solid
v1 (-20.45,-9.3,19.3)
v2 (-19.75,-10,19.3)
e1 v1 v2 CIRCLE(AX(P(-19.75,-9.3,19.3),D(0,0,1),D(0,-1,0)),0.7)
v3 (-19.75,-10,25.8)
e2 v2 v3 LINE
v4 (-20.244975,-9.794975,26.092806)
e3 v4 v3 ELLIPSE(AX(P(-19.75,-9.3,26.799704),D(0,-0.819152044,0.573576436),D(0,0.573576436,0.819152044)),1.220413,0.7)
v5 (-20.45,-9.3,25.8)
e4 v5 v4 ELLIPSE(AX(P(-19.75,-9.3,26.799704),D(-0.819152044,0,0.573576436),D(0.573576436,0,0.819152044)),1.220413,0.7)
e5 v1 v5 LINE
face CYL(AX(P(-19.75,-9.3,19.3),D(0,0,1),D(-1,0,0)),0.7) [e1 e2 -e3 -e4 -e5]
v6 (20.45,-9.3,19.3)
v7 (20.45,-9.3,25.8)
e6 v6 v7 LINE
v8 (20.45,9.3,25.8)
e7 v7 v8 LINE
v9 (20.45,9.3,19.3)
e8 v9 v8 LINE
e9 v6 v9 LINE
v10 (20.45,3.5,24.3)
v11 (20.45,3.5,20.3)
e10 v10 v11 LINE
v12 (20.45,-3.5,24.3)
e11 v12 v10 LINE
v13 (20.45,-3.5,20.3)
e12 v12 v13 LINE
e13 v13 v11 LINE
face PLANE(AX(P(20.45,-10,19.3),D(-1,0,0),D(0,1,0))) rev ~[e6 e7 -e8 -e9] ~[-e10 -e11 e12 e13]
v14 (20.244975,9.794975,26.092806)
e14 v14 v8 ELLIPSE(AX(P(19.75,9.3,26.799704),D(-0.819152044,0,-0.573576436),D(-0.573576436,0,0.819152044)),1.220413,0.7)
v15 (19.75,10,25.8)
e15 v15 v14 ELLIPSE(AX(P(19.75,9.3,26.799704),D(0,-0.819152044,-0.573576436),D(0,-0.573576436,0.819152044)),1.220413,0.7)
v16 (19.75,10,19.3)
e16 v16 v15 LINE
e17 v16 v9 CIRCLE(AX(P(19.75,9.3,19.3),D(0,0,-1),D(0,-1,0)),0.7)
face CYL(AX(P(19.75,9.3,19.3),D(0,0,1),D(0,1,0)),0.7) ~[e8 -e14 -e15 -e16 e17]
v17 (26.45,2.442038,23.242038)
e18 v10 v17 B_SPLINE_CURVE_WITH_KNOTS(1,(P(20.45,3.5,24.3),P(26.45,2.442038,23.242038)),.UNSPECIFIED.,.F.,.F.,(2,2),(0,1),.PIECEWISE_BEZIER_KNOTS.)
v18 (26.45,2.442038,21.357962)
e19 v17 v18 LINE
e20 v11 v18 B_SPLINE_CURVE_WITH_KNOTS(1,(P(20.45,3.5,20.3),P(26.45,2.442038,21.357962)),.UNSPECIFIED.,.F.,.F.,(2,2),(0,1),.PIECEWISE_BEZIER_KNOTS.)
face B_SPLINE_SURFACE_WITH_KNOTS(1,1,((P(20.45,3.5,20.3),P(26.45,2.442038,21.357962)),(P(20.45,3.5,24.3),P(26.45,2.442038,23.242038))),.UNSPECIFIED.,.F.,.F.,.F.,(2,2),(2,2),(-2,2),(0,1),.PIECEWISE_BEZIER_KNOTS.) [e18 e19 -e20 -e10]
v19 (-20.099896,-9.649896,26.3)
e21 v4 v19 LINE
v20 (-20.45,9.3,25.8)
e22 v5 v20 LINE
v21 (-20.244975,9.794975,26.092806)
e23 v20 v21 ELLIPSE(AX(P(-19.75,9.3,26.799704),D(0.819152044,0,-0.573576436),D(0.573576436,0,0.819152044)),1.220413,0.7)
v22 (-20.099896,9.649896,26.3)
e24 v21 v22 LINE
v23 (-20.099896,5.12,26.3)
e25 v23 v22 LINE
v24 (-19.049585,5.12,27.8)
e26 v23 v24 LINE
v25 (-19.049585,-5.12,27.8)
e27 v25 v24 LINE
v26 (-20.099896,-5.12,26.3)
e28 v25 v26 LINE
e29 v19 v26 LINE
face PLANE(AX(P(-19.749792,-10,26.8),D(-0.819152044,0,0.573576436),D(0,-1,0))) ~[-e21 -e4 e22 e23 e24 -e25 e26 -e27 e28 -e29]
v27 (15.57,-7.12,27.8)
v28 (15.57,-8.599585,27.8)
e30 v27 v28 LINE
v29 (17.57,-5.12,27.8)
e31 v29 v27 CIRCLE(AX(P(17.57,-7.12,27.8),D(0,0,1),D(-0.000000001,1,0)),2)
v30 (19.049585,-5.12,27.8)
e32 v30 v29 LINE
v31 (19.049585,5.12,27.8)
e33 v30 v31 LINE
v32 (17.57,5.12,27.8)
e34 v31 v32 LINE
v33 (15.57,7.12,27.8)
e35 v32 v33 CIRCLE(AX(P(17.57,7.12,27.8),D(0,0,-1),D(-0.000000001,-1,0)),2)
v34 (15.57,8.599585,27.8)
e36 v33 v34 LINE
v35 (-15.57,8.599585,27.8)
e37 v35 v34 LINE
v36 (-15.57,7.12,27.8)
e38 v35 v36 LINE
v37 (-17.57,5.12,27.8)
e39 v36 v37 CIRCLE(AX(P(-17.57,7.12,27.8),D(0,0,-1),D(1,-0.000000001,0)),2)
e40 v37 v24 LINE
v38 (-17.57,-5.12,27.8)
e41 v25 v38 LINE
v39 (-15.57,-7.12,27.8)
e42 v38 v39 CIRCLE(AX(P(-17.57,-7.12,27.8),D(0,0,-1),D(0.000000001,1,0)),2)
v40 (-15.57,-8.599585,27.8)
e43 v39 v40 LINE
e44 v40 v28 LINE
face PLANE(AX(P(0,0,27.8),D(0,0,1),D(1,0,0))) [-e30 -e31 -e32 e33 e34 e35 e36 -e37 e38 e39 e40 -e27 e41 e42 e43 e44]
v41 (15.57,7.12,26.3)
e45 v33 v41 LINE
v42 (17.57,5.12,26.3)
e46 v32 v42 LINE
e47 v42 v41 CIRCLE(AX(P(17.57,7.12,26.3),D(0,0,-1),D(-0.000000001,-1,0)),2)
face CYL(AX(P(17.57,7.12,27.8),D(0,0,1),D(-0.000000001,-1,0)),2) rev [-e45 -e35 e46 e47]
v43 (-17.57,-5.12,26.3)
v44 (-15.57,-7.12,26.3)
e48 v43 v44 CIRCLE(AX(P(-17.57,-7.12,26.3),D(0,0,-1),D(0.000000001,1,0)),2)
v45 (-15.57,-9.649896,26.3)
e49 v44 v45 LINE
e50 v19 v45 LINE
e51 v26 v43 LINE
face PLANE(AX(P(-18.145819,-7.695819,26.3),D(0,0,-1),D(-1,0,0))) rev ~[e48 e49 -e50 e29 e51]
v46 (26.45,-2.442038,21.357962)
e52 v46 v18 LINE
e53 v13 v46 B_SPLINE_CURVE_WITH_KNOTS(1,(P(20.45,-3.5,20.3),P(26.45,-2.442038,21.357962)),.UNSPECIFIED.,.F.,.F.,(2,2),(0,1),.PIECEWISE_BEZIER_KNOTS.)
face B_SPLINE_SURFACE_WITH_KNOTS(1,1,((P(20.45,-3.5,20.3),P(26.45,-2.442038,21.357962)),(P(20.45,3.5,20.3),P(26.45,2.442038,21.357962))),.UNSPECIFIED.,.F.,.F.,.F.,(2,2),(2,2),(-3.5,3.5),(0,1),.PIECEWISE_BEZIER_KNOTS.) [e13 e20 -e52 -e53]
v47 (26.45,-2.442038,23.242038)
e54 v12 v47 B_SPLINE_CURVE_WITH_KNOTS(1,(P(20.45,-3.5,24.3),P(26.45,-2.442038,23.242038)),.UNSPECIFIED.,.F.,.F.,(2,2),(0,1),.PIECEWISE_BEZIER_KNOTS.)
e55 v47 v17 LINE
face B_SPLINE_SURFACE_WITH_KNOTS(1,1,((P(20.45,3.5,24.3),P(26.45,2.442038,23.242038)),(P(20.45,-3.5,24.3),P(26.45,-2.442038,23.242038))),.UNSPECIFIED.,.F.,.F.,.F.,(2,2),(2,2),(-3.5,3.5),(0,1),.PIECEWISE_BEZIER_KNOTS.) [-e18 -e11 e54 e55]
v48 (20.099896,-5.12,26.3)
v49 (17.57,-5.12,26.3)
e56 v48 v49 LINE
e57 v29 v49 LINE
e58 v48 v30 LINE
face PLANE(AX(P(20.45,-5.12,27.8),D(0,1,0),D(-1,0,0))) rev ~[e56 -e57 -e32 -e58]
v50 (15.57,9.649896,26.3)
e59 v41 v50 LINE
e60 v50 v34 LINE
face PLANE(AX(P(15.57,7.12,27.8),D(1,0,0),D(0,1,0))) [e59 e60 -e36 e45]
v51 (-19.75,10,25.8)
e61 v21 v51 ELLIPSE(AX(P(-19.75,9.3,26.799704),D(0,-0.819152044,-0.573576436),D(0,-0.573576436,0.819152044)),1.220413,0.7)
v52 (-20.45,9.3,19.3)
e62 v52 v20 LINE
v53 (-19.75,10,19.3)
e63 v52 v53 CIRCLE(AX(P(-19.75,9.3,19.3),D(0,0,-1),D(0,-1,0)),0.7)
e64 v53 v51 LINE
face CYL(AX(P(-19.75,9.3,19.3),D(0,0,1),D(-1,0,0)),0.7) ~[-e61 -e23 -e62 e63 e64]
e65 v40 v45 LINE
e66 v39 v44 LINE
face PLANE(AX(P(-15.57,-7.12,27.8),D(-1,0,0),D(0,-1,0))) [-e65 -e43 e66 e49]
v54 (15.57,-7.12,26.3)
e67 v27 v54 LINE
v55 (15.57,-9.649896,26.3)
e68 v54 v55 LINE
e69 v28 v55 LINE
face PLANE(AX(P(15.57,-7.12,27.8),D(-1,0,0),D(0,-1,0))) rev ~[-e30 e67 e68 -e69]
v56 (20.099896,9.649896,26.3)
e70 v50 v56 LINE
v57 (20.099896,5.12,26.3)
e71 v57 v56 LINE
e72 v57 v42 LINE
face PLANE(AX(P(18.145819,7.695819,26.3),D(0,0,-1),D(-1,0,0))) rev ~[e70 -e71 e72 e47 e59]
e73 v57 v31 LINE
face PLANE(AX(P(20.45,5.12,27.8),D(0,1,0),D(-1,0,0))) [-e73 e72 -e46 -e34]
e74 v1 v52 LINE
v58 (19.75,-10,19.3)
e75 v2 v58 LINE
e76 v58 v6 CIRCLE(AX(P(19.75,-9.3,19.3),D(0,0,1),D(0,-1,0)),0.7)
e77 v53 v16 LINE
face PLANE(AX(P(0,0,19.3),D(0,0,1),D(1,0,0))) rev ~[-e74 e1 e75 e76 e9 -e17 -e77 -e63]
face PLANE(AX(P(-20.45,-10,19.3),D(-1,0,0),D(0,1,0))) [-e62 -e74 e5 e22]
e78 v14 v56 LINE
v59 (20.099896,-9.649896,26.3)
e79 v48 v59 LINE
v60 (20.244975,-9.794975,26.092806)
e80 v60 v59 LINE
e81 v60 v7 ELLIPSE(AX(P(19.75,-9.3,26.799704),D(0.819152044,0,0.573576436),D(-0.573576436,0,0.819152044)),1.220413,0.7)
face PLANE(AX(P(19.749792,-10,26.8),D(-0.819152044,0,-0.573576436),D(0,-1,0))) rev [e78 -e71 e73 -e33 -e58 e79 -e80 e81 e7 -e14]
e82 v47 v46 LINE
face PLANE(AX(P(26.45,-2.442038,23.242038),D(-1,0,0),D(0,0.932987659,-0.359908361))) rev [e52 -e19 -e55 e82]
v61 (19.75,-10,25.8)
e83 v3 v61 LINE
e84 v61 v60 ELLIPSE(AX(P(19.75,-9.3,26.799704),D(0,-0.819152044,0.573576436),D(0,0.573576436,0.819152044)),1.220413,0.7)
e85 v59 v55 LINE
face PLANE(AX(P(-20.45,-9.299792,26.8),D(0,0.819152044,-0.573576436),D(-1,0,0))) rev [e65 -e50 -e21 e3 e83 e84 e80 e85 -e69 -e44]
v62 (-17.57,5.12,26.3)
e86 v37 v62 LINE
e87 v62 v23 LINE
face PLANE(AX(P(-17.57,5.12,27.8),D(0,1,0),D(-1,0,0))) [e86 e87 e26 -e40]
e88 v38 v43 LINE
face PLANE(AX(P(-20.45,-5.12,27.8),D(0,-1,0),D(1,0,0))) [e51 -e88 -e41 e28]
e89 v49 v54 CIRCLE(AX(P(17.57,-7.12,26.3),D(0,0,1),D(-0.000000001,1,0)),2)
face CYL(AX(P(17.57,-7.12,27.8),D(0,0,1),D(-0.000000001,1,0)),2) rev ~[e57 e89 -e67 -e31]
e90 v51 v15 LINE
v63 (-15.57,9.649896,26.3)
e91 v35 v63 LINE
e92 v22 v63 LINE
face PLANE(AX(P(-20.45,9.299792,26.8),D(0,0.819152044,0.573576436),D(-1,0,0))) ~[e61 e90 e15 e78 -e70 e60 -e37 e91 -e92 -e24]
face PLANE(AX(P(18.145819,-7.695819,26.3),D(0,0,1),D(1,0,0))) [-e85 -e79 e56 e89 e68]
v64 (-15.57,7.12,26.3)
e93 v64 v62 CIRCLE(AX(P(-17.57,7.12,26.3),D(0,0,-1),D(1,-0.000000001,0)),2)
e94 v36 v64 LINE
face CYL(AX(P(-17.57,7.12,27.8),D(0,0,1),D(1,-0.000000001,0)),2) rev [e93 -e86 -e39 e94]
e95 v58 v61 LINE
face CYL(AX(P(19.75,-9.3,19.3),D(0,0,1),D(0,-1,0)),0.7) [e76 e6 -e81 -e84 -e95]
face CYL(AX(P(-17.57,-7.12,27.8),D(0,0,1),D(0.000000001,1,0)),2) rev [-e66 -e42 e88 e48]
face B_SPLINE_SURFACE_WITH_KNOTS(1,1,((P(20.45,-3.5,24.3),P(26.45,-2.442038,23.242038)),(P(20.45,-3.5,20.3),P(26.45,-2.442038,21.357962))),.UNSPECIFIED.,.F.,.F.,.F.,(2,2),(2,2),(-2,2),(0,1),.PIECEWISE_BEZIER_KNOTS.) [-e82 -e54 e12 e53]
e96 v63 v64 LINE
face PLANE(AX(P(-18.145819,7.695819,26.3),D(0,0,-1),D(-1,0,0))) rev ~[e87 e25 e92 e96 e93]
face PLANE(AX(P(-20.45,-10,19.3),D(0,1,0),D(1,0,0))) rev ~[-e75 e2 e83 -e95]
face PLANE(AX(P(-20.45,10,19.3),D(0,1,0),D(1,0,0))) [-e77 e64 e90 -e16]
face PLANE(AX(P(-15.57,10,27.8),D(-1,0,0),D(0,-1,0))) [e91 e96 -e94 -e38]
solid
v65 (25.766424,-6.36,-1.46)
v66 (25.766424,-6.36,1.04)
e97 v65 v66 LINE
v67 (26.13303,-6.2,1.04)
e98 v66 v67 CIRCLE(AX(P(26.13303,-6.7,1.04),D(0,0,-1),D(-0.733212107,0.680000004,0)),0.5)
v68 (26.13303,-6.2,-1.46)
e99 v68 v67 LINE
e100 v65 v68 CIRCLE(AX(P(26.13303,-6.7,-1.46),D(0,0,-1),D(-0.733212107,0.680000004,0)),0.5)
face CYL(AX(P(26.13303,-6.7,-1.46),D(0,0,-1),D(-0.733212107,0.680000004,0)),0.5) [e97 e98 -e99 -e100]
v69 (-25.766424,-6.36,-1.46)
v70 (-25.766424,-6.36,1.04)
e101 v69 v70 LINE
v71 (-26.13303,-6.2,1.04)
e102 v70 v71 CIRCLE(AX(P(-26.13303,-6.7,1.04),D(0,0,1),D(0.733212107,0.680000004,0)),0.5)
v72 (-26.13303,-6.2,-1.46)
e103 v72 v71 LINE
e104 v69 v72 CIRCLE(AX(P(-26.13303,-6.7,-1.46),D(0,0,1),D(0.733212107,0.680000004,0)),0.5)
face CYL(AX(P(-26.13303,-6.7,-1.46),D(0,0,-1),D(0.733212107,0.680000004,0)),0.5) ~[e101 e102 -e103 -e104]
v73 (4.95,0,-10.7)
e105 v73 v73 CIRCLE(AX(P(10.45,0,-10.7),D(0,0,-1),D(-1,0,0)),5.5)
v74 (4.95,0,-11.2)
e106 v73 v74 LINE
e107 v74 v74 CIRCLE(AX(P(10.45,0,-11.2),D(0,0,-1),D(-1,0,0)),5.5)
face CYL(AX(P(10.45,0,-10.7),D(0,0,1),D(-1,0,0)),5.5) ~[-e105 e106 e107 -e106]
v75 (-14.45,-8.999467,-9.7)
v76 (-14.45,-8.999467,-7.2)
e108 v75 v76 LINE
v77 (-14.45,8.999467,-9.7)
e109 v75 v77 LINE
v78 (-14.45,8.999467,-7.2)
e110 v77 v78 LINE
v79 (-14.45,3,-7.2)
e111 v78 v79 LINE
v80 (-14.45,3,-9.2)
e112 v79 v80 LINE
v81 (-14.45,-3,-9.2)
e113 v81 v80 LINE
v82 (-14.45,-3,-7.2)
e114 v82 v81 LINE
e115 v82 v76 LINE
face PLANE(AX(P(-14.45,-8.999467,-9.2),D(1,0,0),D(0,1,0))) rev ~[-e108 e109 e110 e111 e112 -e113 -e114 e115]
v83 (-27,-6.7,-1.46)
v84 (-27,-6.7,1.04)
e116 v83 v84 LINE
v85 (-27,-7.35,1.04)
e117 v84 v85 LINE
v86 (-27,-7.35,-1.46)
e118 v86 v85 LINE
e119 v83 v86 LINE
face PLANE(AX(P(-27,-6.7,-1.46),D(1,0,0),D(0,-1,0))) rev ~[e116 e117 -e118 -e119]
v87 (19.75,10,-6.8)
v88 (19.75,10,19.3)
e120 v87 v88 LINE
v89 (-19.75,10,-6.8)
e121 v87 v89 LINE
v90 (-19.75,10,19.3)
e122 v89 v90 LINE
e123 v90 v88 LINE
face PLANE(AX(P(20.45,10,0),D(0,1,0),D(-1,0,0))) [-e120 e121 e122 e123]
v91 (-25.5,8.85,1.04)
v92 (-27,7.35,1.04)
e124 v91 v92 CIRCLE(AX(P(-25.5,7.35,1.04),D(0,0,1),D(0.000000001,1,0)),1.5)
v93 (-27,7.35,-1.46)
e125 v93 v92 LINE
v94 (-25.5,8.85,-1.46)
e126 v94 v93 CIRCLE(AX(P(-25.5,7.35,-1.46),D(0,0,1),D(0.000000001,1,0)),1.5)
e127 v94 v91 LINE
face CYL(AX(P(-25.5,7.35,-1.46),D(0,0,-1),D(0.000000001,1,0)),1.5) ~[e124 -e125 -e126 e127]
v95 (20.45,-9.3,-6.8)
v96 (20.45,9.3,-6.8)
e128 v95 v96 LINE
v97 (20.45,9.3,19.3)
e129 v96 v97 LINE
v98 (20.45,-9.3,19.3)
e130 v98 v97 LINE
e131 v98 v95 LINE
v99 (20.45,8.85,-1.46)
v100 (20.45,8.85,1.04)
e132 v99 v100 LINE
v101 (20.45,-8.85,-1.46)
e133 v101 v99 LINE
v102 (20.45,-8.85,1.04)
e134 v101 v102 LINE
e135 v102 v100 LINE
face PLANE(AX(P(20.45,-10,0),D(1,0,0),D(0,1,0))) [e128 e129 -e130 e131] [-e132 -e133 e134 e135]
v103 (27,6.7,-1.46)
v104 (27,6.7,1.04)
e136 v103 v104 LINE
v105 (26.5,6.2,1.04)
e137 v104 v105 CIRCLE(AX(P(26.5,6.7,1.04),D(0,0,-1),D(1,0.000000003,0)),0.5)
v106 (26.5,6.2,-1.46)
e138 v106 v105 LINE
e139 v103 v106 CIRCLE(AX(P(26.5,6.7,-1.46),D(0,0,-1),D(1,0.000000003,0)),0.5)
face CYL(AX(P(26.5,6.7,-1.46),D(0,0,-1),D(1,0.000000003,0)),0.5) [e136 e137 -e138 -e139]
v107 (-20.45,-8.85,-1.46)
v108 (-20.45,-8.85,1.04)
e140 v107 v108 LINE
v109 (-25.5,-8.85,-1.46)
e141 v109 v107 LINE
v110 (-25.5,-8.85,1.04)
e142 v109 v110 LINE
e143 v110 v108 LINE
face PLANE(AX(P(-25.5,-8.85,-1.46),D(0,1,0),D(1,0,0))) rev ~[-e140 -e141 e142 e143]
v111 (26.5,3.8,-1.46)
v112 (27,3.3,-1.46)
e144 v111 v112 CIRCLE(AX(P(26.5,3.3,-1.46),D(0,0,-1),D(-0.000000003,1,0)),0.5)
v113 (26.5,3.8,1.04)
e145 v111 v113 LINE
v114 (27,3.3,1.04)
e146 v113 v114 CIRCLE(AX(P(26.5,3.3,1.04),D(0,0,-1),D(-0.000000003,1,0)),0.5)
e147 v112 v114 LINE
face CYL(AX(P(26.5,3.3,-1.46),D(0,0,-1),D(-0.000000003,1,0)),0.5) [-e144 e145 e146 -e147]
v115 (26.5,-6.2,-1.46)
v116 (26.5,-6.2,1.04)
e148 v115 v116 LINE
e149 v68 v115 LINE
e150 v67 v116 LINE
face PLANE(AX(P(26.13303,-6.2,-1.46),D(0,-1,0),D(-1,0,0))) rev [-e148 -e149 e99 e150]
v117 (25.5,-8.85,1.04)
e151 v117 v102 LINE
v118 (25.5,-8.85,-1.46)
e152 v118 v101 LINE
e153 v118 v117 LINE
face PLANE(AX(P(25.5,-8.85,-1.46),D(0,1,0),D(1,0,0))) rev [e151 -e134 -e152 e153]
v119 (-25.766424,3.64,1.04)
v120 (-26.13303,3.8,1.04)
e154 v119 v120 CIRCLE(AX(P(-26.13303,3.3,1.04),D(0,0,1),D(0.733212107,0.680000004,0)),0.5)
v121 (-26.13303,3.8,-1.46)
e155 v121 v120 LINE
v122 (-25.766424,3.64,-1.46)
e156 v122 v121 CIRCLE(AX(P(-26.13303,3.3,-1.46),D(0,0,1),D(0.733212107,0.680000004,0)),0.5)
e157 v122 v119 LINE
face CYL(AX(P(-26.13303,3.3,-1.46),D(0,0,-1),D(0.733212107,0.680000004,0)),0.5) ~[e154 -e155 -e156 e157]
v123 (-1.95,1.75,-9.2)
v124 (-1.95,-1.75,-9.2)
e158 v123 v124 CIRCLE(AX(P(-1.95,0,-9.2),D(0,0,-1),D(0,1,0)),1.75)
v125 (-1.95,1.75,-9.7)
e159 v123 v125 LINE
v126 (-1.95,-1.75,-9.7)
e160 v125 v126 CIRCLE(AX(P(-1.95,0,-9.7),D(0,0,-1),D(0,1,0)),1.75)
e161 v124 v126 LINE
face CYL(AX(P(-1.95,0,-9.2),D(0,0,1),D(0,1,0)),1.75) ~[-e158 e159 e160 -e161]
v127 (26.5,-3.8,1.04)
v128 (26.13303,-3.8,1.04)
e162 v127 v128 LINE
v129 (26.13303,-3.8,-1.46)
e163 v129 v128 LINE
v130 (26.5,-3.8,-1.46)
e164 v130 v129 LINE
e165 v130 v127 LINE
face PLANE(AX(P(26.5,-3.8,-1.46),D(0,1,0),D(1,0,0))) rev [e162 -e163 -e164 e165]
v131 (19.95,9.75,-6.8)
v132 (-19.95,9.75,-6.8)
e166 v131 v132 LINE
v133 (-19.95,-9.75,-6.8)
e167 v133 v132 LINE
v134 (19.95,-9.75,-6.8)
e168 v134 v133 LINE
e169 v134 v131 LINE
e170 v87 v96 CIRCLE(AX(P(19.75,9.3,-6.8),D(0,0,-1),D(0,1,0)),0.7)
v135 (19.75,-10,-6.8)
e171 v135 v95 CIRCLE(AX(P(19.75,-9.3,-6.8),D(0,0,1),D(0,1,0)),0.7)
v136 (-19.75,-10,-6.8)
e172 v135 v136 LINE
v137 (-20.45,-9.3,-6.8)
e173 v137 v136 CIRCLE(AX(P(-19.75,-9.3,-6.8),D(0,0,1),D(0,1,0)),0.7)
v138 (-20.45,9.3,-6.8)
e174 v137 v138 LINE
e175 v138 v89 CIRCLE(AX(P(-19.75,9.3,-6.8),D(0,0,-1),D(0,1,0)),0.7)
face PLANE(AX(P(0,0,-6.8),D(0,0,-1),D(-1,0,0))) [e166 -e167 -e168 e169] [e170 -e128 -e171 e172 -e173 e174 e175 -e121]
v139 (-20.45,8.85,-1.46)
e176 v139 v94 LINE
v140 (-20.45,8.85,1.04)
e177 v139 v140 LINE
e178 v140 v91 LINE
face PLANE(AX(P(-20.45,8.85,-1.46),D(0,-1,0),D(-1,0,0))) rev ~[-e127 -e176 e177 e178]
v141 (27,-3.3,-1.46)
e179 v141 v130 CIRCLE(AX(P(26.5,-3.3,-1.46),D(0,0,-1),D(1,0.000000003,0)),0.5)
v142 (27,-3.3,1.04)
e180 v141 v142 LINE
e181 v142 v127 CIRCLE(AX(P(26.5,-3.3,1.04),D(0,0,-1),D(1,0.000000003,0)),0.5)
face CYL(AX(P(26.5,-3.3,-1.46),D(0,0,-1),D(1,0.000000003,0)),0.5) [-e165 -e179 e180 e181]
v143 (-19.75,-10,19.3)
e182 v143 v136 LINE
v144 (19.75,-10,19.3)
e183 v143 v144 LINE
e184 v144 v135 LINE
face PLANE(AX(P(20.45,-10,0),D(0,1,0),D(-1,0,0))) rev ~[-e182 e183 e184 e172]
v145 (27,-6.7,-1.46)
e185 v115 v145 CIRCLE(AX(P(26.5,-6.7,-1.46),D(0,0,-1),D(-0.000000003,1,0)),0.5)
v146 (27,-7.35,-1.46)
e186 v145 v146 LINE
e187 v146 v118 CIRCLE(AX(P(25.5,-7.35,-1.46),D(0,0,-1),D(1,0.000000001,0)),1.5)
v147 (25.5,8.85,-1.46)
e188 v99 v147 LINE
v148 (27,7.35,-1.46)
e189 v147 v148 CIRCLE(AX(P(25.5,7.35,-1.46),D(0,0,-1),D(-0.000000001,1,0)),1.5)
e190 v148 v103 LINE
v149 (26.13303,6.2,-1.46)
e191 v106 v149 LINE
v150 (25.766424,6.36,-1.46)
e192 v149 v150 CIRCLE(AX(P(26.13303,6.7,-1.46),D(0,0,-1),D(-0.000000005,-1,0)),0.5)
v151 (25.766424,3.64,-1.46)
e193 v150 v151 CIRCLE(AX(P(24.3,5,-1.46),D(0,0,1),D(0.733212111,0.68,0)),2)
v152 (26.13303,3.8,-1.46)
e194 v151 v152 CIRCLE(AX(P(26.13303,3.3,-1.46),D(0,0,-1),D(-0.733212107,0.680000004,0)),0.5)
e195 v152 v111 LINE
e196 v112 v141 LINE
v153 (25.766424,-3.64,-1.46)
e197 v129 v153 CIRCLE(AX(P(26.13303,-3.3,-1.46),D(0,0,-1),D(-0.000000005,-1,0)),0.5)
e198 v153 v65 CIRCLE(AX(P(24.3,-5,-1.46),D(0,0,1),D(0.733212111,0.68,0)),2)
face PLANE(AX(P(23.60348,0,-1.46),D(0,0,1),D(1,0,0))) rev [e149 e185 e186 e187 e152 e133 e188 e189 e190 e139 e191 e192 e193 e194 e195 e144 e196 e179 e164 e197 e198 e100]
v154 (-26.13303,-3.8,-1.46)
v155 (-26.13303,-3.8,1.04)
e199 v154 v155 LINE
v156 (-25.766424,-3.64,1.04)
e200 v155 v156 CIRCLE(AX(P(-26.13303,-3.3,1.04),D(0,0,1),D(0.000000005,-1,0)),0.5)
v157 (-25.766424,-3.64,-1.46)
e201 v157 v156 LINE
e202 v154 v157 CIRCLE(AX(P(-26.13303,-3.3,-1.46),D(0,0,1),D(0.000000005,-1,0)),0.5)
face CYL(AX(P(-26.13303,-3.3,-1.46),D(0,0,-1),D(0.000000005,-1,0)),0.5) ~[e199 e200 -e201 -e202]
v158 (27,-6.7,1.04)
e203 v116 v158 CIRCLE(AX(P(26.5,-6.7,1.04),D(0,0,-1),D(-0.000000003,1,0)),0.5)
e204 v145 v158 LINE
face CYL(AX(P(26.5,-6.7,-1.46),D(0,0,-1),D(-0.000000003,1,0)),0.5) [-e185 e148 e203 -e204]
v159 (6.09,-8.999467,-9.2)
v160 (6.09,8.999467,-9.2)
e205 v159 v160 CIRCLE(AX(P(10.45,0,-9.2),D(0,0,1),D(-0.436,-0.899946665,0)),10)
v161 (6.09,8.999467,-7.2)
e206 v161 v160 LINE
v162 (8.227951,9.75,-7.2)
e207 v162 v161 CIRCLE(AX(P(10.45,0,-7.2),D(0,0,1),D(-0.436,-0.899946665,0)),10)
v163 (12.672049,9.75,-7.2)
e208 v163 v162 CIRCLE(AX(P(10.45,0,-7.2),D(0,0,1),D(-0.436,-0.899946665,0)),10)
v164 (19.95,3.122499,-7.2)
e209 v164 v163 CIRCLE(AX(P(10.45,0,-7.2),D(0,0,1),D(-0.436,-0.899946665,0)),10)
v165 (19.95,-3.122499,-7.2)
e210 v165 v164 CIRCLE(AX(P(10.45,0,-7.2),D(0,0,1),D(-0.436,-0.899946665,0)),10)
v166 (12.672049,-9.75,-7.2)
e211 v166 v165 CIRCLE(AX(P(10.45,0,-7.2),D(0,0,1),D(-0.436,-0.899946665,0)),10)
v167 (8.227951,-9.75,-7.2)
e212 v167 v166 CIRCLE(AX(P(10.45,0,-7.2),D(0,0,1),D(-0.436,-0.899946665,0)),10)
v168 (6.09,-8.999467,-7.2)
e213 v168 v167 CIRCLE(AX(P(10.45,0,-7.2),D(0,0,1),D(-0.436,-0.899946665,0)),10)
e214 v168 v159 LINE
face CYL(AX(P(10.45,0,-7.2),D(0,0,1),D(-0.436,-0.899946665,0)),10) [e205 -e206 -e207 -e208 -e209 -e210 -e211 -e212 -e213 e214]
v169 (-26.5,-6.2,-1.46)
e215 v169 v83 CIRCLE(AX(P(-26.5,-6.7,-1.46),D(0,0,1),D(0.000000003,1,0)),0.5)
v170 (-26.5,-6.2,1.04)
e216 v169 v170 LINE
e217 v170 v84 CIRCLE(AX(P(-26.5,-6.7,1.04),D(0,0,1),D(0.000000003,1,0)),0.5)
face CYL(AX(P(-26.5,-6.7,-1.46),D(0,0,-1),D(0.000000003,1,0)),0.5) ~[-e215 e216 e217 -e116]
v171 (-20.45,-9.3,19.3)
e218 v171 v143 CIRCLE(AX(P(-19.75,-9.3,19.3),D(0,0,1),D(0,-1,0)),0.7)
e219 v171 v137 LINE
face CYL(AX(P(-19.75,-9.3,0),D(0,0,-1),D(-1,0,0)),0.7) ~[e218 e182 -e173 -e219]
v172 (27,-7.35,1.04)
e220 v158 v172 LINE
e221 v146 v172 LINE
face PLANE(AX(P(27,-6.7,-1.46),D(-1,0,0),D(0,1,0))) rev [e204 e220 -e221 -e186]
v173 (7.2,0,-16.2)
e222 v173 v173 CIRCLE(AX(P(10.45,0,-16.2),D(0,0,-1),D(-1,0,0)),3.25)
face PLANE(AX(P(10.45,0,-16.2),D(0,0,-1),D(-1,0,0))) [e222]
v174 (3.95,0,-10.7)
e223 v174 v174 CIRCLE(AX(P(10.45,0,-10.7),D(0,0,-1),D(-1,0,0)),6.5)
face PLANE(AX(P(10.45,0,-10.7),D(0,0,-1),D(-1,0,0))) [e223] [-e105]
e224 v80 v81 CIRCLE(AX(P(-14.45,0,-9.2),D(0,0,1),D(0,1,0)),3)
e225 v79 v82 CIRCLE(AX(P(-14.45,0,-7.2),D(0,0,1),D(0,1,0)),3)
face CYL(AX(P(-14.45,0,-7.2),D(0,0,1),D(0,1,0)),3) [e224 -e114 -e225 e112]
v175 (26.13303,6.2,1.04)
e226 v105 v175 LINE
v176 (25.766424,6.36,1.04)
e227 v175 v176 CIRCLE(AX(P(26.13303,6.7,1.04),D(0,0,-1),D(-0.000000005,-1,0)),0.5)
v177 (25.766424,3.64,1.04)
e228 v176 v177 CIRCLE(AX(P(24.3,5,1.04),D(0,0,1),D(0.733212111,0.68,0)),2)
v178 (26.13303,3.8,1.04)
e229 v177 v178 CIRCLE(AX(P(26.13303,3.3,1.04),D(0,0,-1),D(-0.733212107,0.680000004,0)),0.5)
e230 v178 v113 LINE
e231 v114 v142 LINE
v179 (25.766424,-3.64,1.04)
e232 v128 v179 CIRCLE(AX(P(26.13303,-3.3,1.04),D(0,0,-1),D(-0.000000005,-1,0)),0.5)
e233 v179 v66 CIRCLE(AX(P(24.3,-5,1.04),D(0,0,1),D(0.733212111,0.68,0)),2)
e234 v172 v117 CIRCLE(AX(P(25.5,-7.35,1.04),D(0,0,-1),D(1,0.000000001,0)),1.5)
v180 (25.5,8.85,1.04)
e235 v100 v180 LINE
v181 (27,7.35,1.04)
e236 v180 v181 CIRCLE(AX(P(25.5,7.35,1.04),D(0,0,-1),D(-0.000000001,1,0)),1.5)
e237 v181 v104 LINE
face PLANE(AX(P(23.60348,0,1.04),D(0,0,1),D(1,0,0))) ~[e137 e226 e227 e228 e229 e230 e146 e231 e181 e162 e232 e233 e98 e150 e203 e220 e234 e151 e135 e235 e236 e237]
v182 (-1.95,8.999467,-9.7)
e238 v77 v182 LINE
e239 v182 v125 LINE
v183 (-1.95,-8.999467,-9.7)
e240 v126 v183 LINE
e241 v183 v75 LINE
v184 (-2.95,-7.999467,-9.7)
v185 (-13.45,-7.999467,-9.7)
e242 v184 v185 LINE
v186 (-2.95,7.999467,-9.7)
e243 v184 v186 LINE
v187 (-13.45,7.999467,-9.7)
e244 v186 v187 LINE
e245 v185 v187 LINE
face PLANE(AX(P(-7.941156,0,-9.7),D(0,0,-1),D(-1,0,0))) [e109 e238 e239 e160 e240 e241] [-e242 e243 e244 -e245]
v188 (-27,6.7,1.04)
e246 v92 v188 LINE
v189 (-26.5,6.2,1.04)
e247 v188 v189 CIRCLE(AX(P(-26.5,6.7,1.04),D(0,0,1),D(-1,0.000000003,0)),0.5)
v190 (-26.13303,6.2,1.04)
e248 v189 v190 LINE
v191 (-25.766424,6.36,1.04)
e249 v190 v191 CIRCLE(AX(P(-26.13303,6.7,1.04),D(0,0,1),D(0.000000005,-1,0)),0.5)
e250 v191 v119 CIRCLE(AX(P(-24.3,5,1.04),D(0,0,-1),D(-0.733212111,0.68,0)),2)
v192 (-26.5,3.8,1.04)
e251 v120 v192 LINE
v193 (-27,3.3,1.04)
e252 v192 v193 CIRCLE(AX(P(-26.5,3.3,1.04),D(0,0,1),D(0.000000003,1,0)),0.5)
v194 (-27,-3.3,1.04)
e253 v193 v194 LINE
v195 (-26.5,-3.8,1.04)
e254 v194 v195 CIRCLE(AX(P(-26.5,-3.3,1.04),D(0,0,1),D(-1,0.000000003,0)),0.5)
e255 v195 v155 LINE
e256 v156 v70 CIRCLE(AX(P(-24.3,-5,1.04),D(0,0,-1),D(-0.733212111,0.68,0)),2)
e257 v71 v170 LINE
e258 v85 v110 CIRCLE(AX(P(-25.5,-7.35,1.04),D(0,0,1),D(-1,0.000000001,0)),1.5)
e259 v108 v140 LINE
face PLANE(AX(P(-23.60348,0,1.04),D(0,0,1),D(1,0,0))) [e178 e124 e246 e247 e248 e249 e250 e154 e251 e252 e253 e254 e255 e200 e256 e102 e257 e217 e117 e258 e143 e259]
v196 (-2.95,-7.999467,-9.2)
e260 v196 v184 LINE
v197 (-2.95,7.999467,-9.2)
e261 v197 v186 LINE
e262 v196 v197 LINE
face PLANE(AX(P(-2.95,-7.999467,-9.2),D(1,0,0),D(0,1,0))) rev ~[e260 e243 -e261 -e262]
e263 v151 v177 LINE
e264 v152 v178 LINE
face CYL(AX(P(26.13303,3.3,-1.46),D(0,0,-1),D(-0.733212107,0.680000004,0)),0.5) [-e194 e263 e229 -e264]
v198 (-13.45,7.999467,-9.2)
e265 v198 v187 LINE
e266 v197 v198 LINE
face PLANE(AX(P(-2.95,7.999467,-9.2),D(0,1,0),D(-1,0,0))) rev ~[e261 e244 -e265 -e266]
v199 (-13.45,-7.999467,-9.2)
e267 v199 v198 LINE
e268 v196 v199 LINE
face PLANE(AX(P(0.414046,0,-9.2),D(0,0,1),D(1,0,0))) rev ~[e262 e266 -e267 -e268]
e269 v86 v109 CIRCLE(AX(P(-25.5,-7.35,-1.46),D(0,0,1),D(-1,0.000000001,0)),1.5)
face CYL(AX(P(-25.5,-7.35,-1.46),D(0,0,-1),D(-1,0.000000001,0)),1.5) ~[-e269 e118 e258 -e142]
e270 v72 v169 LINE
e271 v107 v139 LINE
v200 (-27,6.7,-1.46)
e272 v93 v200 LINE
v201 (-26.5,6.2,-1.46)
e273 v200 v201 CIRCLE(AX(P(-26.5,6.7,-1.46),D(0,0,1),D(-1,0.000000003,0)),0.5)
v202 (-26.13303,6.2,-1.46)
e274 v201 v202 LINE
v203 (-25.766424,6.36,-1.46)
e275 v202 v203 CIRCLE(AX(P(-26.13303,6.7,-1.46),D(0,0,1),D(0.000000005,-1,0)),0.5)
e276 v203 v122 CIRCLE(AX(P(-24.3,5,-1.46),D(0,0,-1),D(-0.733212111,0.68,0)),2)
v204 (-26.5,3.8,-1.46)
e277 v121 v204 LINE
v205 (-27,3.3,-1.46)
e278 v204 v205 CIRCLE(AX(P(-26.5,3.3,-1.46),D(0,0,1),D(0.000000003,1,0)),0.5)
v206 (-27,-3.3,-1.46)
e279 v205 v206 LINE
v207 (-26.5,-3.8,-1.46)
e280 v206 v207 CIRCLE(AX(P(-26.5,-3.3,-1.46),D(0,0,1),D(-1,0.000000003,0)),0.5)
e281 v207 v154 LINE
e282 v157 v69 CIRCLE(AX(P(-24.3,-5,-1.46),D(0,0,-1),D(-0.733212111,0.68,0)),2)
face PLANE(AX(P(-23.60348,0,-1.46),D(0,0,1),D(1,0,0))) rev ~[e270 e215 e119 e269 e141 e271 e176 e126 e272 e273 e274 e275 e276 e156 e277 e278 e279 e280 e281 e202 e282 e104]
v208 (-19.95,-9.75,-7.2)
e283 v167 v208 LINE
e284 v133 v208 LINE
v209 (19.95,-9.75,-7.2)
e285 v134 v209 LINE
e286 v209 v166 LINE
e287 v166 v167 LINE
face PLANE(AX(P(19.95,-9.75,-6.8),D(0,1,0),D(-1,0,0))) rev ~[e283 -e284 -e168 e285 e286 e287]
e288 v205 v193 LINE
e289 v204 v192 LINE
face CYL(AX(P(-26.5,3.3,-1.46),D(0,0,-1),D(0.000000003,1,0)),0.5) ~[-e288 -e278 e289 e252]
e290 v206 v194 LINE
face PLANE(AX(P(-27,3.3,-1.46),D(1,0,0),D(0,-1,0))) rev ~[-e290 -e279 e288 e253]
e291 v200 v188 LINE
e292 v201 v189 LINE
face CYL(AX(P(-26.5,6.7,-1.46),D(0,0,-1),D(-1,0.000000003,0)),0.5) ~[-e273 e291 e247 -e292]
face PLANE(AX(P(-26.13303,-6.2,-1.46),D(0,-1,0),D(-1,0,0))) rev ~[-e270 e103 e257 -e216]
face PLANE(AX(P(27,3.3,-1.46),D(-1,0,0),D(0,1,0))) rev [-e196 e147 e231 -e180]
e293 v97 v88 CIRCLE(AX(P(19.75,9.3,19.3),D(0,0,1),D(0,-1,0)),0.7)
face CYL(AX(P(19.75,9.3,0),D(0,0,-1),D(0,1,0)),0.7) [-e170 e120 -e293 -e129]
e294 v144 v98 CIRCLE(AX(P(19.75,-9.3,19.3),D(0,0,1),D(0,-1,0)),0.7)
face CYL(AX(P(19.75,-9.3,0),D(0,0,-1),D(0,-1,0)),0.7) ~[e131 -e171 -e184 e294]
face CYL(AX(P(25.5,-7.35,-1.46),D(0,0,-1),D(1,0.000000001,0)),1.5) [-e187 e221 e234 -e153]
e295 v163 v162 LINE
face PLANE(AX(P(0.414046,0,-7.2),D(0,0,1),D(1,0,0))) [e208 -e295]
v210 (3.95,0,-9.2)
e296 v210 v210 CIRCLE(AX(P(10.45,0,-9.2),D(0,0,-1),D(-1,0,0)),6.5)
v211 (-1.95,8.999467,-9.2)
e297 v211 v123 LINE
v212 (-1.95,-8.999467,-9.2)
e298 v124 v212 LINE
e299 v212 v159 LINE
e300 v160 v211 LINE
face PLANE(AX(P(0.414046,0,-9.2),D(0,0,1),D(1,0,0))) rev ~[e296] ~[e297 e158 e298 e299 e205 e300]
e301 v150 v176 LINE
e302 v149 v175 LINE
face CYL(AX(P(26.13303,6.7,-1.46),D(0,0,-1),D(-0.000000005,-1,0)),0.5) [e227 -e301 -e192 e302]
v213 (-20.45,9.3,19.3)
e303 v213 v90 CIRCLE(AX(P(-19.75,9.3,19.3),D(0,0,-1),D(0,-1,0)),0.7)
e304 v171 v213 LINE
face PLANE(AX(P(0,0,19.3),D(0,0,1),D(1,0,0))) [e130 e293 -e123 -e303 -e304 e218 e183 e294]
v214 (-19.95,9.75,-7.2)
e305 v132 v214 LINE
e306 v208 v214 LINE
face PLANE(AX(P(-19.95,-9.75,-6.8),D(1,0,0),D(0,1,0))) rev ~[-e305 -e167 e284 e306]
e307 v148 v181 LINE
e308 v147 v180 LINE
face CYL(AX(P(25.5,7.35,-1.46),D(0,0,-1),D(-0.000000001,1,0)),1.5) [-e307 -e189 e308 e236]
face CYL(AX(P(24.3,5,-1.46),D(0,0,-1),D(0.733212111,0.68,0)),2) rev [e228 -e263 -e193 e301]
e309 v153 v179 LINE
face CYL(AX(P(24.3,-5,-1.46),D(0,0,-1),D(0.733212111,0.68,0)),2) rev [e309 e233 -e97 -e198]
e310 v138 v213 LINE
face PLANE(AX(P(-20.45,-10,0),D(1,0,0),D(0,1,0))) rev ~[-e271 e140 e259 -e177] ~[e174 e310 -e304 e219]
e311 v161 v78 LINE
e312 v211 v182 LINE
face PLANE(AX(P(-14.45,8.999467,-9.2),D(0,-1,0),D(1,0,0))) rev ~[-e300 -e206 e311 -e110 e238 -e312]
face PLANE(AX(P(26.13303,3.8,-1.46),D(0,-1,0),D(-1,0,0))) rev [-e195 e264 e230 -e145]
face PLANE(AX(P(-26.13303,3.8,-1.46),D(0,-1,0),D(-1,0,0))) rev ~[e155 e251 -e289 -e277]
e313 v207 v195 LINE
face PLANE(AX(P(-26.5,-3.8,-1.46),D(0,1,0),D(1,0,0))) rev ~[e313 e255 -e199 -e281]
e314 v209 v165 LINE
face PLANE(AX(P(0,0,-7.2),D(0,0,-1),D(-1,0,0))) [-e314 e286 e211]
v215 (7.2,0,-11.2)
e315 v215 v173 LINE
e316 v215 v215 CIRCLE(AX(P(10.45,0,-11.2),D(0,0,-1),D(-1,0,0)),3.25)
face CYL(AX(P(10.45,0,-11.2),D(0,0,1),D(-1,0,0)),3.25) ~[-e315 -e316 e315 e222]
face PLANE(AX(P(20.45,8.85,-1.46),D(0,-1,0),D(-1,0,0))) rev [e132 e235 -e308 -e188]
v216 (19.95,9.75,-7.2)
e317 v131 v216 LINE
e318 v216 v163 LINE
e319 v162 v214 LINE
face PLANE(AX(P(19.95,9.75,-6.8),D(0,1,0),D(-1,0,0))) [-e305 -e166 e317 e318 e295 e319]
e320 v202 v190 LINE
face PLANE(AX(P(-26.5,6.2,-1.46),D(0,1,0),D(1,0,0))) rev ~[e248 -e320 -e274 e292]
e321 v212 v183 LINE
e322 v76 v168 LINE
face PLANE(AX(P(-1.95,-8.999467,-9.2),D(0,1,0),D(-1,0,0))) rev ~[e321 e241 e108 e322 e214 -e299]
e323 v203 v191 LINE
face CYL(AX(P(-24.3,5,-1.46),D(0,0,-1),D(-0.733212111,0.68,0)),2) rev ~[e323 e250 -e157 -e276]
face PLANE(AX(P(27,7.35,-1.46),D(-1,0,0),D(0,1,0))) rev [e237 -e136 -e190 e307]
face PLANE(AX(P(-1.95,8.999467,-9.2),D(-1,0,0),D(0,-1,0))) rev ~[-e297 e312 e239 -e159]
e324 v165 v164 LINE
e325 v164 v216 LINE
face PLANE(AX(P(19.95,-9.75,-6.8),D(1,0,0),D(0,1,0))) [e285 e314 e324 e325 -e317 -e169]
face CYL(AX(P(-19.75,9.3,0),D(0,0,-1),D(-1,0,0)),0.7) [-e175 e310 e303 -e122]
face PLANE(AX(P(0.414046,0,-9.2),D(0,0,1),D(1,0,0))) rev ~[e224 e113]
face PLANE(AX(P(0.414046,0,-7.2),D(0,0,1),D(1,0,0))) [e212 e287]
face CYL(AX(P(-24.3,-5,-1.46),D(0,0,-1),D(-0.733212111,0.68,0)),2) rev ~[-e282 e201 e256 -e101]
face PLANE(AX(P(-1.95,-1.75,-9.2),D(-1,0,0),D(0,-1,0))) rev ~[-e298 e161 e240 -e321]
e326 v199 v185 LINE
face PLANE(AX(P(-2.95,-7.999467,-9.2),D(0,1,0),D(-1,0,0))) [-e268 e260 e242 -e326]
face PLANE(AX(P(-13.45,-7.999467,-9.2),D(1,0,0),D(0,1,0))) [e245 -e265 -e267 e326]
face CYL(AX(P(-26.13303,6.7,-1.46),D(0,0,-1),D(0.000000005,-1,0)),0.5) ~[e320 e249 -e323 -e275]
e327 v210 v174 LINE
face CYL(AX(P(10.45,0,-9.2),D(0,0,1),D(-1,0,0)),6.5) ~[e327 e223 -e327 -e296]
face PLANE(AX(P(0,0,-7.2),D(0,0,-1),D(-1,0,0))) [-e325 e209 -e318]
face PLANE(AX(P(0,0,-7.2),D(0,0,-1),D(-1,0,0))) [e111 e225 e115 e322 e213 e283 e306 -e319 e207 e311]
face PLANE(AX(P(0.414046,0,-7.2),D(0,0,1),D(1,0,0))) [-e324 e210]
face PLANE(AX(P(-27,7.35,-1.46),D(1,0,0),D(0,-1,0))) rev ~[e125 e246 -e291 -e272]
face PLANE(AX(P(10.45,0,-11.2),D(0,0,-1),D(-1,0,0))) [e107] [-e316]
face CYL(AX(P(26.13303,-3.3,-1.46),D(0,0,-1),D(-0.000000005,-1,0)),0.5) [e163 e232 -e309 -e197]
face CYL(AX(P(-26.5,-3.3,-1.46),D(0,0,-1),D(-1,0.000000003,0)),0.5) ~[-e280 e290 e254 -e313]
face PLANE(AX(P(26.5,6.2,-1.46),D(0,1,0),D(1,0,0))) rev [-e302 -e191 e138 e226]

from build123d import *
from OCP.BRepFilletAPI import BRepFilletAPI_MakeChamfer

# Parameters (mm, degrees)
SKETCH1_W            = 40.9
SKETCH1_H            = 20
BOSS_EXTRUDE1_DEPTH  = 19.3
SKETCH3_W            = 40.9
SKETCH3_H            = 20
BOSS_EXTRUDE2_DEPTH  = 6.8
SKETCH4_W            = 40.9
SKETCH4_H            = 20
BOSS_EXTRUDE3_DEPTH  = 8.5
CHAMFER1_SIZE        = 2
CHAMFER1_SIZE2       = 1.400415076
CUT_EXTRUDE1_DEPTH   = 1.5
SKETCH6_W            = 39.9
SKETCH6_H            = 19.5
BOSS_EXTRUDE4_DEPTH  = 0.4
BOSS_EXTRUDE5_DEPTH  = 2
SKETCH8_R            = 6.5
BOSS_EXTRUDE6_DEPTH  = 1.5
SKETCH9_R            = 5.5
BOSS_EXTRUDE8_DEPTH  = 0.5
SKETCH11_R           = 3.25
BOSS_EXTRUDE9_DEPTH  = 5
SKETCH12_W           = 10.5
SKETCH12_H           = 15.998933302
BOSS_EXTRUDE10_DEPTH = 0.5
FILLET1_R            = 0.7
FILLET2_R            = 0.7
FILLET3_R            = 0.7
BOSS_EXTRUDE11_START = -5.74
BOSS_EXTRUDE11_DEPTH = 2.5
SKETCH14_W           = 4
SKETCH14_H           = 7
BOSS_EXTRUDE12_DEPTH = 6
BOSS_EXTRUDE12_TAPER = 10


with BuildPart() as part:
    # Sketch1 → Boss-Extrude1 (new body)
    with BuildSketch(Plane.XY):
        Rectangle(SKETCH1_W, SKETCH1_H)
    extrude(amount=BOSS_EXTRUDE1_DEPTH)

    # Fillet1
    fillet1_edges = [part.edges().sort_by_distance(p)[0] for p in [
        (-20.45, 10, 9.65),
        (20.45, 10, 9.65),
        (20.45, -10, 9.65),
        (-20.45, -10, 9.65),
    ]]
    fillet(fillet1_edges, radius=FILLET1_R)



with BuildPart() as body_2:
    # Sketch3 → Boss-Extrude2 (new body)
    with BuildSketch(Plane(origin=(0, 0, 0), x_dir=(-1, 0, 0), z_dir=(0, 0, -1))):
        Rectangle(SKETCH3_W, SKETCH3_H)
    extrude(amount=BOSS_EXTRUDE2_DEPTH)

    # Sketch6 → Boss-Extrude4 (add)
    with BuildSketch(Plane(origin=(0, 0, -6.8), x_dir=(-1, 0, 0), z_dir=(0, 0, -1))):
        Rectangle(SKETCH6_W, SKETCH6_H)
    extrude(amount=BOSS_EXTRUDE4_DEPTH)

    # Sketch7 → Boss-Extrude5 (add)
    with BuildSketch(Plane(origin=(0, 0, -7.2), x_dir=(-1, 0, 0), z_dir=(0, 0, -1))):
        with BuildLine():
            Line((-6.09, 8.999466651), (14.45, 8.999466651))
            Line((14.45, 8.999466651), (14.45, 3))
            ThreePointArc((14.45, 3), (17.45, 0), (14.45, -3))
            Line((14.45, -3), (14.45, -8.999466651))
            Line((14.45, -8.999466651), (-6.09, -8.999466651))
            ThreePointArc((-6.09, -8.999466651), (-20.45, 0), (-6.09, 8.999466651))
        make_face()
    extrude(amount=BOSS_EXTRUDE5_DEPTH)

    # Sketch8 → Boss-Extrude6 (add)
    with BuildSketch(Plane(origin=(0, 0, -9.2), x_dir=(-1, 0, 0), z_dir=(0, 0, -1))):
        with Locations((-10.45, 0)):
            Circle(SKETCH8_R)
    extrude(amount=BOSS_EXTRUDE6_DEPTH)

    # Sketch9 → Boss-Extrude8 (add)
    with BuildSketch(Plane(origin=(0, 0, -10.7), x_dir=(-1, 0, 0), z_dir=(0, 0, -1))):
        with Locations((-10.45, 0)):
            Circle(SKETCH9_R)
    extrude(amount=BOSS_EXTRUDE8_DEPTH)

    # Sketch11 → Boss-Extrude9 (add)
    with BuildSketch(Plane(origin=(0, 0, -11.2), x_dir=(-1, 0, 0), z_dir=(0, 0, -1))):
        with Locations((-10.45, 0)):
            Circle(SKETCH11_R)
    extrude(amount=BOSS_EXTRUDE9_DEPTH)

    # Sketch12 → Boss-Extrude10 (add)
    with BuildSketch(Plane(origin=(0, 0, -9.2), x_dir=(-1, 0, 0), z_dir=(0, 0, -1))):
        with BuildLine():
            Line((14.45, 8.999466651), (1.95, 8.999466651))
            Line((1.95, 8.999466651), (1.95, 1.75))
            ThreePointArc((1.95, 1.75), (0.2, 0), (1.95, -1.75))
            Line((1.95, -1.75), (1.95, -8.999466651))
            Line((1.95, -8.999466651), (14.45, -8.999466651))
            Line((14.45, -8.999466651), (14.45, 8.999466651))
        make_face()
        with Locations((8.2, 0)):
            Rectangle(SKETCH12_W, SKETCH12_H, mode=Mode.SUBTRACT)
    extrude(amount=BOSS_EXTRUDE10_DEPTH)

    # Fillet2
    fillet2_edges = [body_2.edges().sort_by_distance(p)[0] for p in [
        (20.45, -10, -3.4),
        (20.45, 10, -3.4),
        (-20.45, 10, -3.4),
        (-20.45, -10, -3.4),
    ]]
    fillet(fillet2_edges, radius=FILLET2_R)


with BuildPart() as body_3:
    # Sketch4 → Boss-Extrude3 (new body)
    with BuildSketch(Plane.XY.offset(19.3)):
        Rectangle(SKETCH4_W, SKETCH4_H)
    extrude(amount=BOSS_EXTRUDE3_DEPTH)

    # Chamfer1: one chamfer whose edges measure the first distance from different faces: ONE call of the kernel's chamfer builder (chamfer() names one face for all edges)
    chamfer1_edges_1 = [body_3.edges().sort_by_distance(p)[0] for p in [
        (0, -10, 27.8),
    ]]
    chamfer1_side_1 = [body_3.faces().sort_by_distance(p)[0] for p in [
        (0, -10, 23.55),
    ]]
    chamfer1_edges_2 = [body_3.edges().sort_by_distance(p)[0] for p in [
        (20.45, 0, 27.8),
    ]]
    chamfer1_side_2 = [body_3.faces().sort_by_distance(p)[0] for p in [
        (20.45, 0, 23.55),
    ]]
    chamfer1_edges_3 = [body_3.edges().sort_by_distance(p)[0] for p in [
        (0, 10, 27.8),
    ]]
    chamfer1_side_3 = [body_3.faces().sort_by_distance(p)[0] for p in [
        (0, 10, 23.55),
    ]]
    chamfer1_edges_4 = [body_3.edges().sort_by_distance(p)[0] for p in [
        (-20.45, 0, 27.8),
    ]]
    chamfer1_side_4 = [body_3.faces().sort_by_distance(p)[0] for p in [
        (-20.45, 0, 23.55),
    ]]
    chamfer1 = BRepFilletAPI_MakeChamfer(body_3.part.solid().wrapped)
    for e in chamfer1_edges_1:
        chamfer1.Add(CHAMFER1_SIZE, CHAMFER1_SIZE2, e.wrapped, chamfer1_side_1[0].wrapped)  # the first distance lies on this face
    for e in chamfer1_edges_2:
        chamfer1.Add(CHAMFER1_SIZE, CHAMFER1_SIZE2, e.wrapped, chamfer1_side_2[0].wrapped)  # the first distance lies on this face
    for e in chamfer1_edges_3:
        chamfer1.Add(CHAMFER1_SIZE, CHAMFER1_SIZE2, e.wrapped, chamfer1_side_3[0].wrapped)  # the first distance lies on this face
    for e in chamfer1_edges_4:
        chamfer1.Add(CHAMFER1_SIZE, CHAMFER1_SIZE2, e.wrapped, chamfer1_side_4[0].wrapped)  # the first distance lies on this face
    add(Compound.cast(chamfer1.Shape()), mode=Mode.REPLACE)

    # Sketch5 → Cut-Extrude1 (cut)
    with BuildSketch(Plane.XY.offset(27.8)):
        with BuildLine():
            Line((-20.45, 10), (-15.57, 10))
            Line((-15.57, 10), (-15.57, 7.12))
            ThreePointArc((-15.57, 7.12), (-16.155786438, 5.705786438), (-17.57, 5.12))
            Line((-17.57, 5.12), (-20.45, 5.12))
            Line((-20.45, 5.12), (-20.45, 10))
        make_face()
        with BuildLine():
            Line((20.45, 5.12), (17.57, 5.12))
            ThreePointArc((17.57, 5.12), (16.155786438, 5.705786438), (15.57, 7.12))
            Line((15.57, 7.12), (15.57, 10))
            Line((15.57, 10), (20.45, 10))
            Line((20.45, 10), (20.45, 5.12))
        make_face()
        with BuildLine():
            Line((-20.45, -5.12), (-17.57, -5.12))
            ThreePointArc((-17.57, -5.12), (-16.155786438, -5.705786438), (-15.57, -7.12))
            Line((-15.57, -7.12), (-15.57, -10))
            Line((-15.57, -10), (-20.45, -10))
            Line((-20.45, -10), (-20.45, -5.12))
        make_face()
        with BuildLine():
            Line((20.45, -10), (20.45, -5.12))
            Line((20.45, -5.12), (17.57, -5.12))
            ThreePointArc((17.57, -5.12), (16.155786438, -5.705786438), (15.57, -7.12))
            Line((15.57, -7.12), (15.57, -10))
            Line((15.57, -10), (20.45, -10))
        make_face()
    extrude(amount=-CUT_EXTRUDE1_DEPTH, mode=Mode.SUBTRACT)

    # Fillet3
    fillet3_edges = [body_3.edges().sort_by_distance(p)[0] for p in [
        (20.45, 10, 22.55),
        (20.45, -10, 22.55),
        (-20.45, -10, 22.55),
        (-20.45, 10, 22.55),
    ]]
    fillet(fillet3_edges, radius=FILLET3_R)

    # Sketch14 → Boss-Extrude12 (add)
    with BuildSketch(Plane(origin=(20.45, 0, 0), x_dir=(0, 0, -1), z_dir=(1, 0, 0))):
        with Locations((-22.3, 0)):
            Rectangle(SKETCH14_W, SKETCH14_H)
    extrude(amount=BOSS_EXTRUDE12_DEPTH, taper=BOSS_EXTRUDE12_TAPER)


with BuildPart() as part_1:
    add(part.part)

    add(body_2.part)  # Boss-Extrude11 merges body 2
    # Sketch13 → Boss-Extrude11 (add)
    with BuildSketch(Plane(origin=(0, 0, -7.2), x_dir=(-1, 0, 0), z_dir=(0, 0, -1)).offset(BOSS_EXTRUDE11_START)):
        with BuildLine():
            Line((20.45, 8.85), (25.5, 8.85))
            ThreePointArc((25.5, 8.85), (26.560660172, 8.410660172), (27, 7.35))
            Line((27, 7.35), (27, 6.7))
            ThreePointArc((27, 6.7), (26.853553391, 6.346446609), (26.5, 6.2))
            Line((26.5, 6.2), (26.133030278, 6.2))
            ThreePointArc((26.133030278, 6.2), (25.933030278, 6.241742431), (25.766424222, 6.36))
            ThreePointArc((25.766424222, 6.36), (22.3, 5), (25.766424222, 3.64))
            ThreePointArc((25.766424222, 3.64), (25.933030278, 3.758257569), (26.133030278, 3.8))
            Line((26.133030278, 3.8), (26.5, 3.8))
            ThreePointArc((26.5, 3.8), (26.853553391, 3.653553391), (27, 3.3))
            Line((27, 3.3), (27, -3.3))
            ThreePointArc((27, -3.3), (26.853553391, -3.653553391), (26.5, -3.8))
            Line((26.5, -3.8), (26.133030278, -3.8))
            ThreePointArc((26.133030278, -3.8), (25.933030278, -3.758257569), (25.766424222, -3.64))
            ThreePointArc((25.766424222, -3.64), (22.3, -5), (25.766424222, -6.36))
            ThreePointArc((25.766424222, -6.36), (25.933030278, -6.241742431), (26.133030278, -6.2))
            Line((26.133030278, -6.2), (26.5, -6.2))
            ThreePointArc((26.5, -6.2), (26.853553391, -6.346446609), (27, -6.7))
            Line((27, -6.7), (27, -7.35))
            ThreePointArc((27, -7.35), (26.560660172, -8.410660172), (25.5, -8.85))
            Line((25.5, -8.85), (20.45, -8.85))
            Line((20.45, -8.85), (20.45, 8.85))
        make_face()
    boss_extrude11 = extrude(amount=-BOSS_EXTRUDE11_DEPTH)

    # Mirror1: Boss-Extrude11 across plane
    add(boss_extrude11.mirror(Plane(origin=(0, 0, 0), x_dir=(0, 0, 1), z_dir=(1, 0, 0))))


solid = Compound([body_3.part, part_1.part])
